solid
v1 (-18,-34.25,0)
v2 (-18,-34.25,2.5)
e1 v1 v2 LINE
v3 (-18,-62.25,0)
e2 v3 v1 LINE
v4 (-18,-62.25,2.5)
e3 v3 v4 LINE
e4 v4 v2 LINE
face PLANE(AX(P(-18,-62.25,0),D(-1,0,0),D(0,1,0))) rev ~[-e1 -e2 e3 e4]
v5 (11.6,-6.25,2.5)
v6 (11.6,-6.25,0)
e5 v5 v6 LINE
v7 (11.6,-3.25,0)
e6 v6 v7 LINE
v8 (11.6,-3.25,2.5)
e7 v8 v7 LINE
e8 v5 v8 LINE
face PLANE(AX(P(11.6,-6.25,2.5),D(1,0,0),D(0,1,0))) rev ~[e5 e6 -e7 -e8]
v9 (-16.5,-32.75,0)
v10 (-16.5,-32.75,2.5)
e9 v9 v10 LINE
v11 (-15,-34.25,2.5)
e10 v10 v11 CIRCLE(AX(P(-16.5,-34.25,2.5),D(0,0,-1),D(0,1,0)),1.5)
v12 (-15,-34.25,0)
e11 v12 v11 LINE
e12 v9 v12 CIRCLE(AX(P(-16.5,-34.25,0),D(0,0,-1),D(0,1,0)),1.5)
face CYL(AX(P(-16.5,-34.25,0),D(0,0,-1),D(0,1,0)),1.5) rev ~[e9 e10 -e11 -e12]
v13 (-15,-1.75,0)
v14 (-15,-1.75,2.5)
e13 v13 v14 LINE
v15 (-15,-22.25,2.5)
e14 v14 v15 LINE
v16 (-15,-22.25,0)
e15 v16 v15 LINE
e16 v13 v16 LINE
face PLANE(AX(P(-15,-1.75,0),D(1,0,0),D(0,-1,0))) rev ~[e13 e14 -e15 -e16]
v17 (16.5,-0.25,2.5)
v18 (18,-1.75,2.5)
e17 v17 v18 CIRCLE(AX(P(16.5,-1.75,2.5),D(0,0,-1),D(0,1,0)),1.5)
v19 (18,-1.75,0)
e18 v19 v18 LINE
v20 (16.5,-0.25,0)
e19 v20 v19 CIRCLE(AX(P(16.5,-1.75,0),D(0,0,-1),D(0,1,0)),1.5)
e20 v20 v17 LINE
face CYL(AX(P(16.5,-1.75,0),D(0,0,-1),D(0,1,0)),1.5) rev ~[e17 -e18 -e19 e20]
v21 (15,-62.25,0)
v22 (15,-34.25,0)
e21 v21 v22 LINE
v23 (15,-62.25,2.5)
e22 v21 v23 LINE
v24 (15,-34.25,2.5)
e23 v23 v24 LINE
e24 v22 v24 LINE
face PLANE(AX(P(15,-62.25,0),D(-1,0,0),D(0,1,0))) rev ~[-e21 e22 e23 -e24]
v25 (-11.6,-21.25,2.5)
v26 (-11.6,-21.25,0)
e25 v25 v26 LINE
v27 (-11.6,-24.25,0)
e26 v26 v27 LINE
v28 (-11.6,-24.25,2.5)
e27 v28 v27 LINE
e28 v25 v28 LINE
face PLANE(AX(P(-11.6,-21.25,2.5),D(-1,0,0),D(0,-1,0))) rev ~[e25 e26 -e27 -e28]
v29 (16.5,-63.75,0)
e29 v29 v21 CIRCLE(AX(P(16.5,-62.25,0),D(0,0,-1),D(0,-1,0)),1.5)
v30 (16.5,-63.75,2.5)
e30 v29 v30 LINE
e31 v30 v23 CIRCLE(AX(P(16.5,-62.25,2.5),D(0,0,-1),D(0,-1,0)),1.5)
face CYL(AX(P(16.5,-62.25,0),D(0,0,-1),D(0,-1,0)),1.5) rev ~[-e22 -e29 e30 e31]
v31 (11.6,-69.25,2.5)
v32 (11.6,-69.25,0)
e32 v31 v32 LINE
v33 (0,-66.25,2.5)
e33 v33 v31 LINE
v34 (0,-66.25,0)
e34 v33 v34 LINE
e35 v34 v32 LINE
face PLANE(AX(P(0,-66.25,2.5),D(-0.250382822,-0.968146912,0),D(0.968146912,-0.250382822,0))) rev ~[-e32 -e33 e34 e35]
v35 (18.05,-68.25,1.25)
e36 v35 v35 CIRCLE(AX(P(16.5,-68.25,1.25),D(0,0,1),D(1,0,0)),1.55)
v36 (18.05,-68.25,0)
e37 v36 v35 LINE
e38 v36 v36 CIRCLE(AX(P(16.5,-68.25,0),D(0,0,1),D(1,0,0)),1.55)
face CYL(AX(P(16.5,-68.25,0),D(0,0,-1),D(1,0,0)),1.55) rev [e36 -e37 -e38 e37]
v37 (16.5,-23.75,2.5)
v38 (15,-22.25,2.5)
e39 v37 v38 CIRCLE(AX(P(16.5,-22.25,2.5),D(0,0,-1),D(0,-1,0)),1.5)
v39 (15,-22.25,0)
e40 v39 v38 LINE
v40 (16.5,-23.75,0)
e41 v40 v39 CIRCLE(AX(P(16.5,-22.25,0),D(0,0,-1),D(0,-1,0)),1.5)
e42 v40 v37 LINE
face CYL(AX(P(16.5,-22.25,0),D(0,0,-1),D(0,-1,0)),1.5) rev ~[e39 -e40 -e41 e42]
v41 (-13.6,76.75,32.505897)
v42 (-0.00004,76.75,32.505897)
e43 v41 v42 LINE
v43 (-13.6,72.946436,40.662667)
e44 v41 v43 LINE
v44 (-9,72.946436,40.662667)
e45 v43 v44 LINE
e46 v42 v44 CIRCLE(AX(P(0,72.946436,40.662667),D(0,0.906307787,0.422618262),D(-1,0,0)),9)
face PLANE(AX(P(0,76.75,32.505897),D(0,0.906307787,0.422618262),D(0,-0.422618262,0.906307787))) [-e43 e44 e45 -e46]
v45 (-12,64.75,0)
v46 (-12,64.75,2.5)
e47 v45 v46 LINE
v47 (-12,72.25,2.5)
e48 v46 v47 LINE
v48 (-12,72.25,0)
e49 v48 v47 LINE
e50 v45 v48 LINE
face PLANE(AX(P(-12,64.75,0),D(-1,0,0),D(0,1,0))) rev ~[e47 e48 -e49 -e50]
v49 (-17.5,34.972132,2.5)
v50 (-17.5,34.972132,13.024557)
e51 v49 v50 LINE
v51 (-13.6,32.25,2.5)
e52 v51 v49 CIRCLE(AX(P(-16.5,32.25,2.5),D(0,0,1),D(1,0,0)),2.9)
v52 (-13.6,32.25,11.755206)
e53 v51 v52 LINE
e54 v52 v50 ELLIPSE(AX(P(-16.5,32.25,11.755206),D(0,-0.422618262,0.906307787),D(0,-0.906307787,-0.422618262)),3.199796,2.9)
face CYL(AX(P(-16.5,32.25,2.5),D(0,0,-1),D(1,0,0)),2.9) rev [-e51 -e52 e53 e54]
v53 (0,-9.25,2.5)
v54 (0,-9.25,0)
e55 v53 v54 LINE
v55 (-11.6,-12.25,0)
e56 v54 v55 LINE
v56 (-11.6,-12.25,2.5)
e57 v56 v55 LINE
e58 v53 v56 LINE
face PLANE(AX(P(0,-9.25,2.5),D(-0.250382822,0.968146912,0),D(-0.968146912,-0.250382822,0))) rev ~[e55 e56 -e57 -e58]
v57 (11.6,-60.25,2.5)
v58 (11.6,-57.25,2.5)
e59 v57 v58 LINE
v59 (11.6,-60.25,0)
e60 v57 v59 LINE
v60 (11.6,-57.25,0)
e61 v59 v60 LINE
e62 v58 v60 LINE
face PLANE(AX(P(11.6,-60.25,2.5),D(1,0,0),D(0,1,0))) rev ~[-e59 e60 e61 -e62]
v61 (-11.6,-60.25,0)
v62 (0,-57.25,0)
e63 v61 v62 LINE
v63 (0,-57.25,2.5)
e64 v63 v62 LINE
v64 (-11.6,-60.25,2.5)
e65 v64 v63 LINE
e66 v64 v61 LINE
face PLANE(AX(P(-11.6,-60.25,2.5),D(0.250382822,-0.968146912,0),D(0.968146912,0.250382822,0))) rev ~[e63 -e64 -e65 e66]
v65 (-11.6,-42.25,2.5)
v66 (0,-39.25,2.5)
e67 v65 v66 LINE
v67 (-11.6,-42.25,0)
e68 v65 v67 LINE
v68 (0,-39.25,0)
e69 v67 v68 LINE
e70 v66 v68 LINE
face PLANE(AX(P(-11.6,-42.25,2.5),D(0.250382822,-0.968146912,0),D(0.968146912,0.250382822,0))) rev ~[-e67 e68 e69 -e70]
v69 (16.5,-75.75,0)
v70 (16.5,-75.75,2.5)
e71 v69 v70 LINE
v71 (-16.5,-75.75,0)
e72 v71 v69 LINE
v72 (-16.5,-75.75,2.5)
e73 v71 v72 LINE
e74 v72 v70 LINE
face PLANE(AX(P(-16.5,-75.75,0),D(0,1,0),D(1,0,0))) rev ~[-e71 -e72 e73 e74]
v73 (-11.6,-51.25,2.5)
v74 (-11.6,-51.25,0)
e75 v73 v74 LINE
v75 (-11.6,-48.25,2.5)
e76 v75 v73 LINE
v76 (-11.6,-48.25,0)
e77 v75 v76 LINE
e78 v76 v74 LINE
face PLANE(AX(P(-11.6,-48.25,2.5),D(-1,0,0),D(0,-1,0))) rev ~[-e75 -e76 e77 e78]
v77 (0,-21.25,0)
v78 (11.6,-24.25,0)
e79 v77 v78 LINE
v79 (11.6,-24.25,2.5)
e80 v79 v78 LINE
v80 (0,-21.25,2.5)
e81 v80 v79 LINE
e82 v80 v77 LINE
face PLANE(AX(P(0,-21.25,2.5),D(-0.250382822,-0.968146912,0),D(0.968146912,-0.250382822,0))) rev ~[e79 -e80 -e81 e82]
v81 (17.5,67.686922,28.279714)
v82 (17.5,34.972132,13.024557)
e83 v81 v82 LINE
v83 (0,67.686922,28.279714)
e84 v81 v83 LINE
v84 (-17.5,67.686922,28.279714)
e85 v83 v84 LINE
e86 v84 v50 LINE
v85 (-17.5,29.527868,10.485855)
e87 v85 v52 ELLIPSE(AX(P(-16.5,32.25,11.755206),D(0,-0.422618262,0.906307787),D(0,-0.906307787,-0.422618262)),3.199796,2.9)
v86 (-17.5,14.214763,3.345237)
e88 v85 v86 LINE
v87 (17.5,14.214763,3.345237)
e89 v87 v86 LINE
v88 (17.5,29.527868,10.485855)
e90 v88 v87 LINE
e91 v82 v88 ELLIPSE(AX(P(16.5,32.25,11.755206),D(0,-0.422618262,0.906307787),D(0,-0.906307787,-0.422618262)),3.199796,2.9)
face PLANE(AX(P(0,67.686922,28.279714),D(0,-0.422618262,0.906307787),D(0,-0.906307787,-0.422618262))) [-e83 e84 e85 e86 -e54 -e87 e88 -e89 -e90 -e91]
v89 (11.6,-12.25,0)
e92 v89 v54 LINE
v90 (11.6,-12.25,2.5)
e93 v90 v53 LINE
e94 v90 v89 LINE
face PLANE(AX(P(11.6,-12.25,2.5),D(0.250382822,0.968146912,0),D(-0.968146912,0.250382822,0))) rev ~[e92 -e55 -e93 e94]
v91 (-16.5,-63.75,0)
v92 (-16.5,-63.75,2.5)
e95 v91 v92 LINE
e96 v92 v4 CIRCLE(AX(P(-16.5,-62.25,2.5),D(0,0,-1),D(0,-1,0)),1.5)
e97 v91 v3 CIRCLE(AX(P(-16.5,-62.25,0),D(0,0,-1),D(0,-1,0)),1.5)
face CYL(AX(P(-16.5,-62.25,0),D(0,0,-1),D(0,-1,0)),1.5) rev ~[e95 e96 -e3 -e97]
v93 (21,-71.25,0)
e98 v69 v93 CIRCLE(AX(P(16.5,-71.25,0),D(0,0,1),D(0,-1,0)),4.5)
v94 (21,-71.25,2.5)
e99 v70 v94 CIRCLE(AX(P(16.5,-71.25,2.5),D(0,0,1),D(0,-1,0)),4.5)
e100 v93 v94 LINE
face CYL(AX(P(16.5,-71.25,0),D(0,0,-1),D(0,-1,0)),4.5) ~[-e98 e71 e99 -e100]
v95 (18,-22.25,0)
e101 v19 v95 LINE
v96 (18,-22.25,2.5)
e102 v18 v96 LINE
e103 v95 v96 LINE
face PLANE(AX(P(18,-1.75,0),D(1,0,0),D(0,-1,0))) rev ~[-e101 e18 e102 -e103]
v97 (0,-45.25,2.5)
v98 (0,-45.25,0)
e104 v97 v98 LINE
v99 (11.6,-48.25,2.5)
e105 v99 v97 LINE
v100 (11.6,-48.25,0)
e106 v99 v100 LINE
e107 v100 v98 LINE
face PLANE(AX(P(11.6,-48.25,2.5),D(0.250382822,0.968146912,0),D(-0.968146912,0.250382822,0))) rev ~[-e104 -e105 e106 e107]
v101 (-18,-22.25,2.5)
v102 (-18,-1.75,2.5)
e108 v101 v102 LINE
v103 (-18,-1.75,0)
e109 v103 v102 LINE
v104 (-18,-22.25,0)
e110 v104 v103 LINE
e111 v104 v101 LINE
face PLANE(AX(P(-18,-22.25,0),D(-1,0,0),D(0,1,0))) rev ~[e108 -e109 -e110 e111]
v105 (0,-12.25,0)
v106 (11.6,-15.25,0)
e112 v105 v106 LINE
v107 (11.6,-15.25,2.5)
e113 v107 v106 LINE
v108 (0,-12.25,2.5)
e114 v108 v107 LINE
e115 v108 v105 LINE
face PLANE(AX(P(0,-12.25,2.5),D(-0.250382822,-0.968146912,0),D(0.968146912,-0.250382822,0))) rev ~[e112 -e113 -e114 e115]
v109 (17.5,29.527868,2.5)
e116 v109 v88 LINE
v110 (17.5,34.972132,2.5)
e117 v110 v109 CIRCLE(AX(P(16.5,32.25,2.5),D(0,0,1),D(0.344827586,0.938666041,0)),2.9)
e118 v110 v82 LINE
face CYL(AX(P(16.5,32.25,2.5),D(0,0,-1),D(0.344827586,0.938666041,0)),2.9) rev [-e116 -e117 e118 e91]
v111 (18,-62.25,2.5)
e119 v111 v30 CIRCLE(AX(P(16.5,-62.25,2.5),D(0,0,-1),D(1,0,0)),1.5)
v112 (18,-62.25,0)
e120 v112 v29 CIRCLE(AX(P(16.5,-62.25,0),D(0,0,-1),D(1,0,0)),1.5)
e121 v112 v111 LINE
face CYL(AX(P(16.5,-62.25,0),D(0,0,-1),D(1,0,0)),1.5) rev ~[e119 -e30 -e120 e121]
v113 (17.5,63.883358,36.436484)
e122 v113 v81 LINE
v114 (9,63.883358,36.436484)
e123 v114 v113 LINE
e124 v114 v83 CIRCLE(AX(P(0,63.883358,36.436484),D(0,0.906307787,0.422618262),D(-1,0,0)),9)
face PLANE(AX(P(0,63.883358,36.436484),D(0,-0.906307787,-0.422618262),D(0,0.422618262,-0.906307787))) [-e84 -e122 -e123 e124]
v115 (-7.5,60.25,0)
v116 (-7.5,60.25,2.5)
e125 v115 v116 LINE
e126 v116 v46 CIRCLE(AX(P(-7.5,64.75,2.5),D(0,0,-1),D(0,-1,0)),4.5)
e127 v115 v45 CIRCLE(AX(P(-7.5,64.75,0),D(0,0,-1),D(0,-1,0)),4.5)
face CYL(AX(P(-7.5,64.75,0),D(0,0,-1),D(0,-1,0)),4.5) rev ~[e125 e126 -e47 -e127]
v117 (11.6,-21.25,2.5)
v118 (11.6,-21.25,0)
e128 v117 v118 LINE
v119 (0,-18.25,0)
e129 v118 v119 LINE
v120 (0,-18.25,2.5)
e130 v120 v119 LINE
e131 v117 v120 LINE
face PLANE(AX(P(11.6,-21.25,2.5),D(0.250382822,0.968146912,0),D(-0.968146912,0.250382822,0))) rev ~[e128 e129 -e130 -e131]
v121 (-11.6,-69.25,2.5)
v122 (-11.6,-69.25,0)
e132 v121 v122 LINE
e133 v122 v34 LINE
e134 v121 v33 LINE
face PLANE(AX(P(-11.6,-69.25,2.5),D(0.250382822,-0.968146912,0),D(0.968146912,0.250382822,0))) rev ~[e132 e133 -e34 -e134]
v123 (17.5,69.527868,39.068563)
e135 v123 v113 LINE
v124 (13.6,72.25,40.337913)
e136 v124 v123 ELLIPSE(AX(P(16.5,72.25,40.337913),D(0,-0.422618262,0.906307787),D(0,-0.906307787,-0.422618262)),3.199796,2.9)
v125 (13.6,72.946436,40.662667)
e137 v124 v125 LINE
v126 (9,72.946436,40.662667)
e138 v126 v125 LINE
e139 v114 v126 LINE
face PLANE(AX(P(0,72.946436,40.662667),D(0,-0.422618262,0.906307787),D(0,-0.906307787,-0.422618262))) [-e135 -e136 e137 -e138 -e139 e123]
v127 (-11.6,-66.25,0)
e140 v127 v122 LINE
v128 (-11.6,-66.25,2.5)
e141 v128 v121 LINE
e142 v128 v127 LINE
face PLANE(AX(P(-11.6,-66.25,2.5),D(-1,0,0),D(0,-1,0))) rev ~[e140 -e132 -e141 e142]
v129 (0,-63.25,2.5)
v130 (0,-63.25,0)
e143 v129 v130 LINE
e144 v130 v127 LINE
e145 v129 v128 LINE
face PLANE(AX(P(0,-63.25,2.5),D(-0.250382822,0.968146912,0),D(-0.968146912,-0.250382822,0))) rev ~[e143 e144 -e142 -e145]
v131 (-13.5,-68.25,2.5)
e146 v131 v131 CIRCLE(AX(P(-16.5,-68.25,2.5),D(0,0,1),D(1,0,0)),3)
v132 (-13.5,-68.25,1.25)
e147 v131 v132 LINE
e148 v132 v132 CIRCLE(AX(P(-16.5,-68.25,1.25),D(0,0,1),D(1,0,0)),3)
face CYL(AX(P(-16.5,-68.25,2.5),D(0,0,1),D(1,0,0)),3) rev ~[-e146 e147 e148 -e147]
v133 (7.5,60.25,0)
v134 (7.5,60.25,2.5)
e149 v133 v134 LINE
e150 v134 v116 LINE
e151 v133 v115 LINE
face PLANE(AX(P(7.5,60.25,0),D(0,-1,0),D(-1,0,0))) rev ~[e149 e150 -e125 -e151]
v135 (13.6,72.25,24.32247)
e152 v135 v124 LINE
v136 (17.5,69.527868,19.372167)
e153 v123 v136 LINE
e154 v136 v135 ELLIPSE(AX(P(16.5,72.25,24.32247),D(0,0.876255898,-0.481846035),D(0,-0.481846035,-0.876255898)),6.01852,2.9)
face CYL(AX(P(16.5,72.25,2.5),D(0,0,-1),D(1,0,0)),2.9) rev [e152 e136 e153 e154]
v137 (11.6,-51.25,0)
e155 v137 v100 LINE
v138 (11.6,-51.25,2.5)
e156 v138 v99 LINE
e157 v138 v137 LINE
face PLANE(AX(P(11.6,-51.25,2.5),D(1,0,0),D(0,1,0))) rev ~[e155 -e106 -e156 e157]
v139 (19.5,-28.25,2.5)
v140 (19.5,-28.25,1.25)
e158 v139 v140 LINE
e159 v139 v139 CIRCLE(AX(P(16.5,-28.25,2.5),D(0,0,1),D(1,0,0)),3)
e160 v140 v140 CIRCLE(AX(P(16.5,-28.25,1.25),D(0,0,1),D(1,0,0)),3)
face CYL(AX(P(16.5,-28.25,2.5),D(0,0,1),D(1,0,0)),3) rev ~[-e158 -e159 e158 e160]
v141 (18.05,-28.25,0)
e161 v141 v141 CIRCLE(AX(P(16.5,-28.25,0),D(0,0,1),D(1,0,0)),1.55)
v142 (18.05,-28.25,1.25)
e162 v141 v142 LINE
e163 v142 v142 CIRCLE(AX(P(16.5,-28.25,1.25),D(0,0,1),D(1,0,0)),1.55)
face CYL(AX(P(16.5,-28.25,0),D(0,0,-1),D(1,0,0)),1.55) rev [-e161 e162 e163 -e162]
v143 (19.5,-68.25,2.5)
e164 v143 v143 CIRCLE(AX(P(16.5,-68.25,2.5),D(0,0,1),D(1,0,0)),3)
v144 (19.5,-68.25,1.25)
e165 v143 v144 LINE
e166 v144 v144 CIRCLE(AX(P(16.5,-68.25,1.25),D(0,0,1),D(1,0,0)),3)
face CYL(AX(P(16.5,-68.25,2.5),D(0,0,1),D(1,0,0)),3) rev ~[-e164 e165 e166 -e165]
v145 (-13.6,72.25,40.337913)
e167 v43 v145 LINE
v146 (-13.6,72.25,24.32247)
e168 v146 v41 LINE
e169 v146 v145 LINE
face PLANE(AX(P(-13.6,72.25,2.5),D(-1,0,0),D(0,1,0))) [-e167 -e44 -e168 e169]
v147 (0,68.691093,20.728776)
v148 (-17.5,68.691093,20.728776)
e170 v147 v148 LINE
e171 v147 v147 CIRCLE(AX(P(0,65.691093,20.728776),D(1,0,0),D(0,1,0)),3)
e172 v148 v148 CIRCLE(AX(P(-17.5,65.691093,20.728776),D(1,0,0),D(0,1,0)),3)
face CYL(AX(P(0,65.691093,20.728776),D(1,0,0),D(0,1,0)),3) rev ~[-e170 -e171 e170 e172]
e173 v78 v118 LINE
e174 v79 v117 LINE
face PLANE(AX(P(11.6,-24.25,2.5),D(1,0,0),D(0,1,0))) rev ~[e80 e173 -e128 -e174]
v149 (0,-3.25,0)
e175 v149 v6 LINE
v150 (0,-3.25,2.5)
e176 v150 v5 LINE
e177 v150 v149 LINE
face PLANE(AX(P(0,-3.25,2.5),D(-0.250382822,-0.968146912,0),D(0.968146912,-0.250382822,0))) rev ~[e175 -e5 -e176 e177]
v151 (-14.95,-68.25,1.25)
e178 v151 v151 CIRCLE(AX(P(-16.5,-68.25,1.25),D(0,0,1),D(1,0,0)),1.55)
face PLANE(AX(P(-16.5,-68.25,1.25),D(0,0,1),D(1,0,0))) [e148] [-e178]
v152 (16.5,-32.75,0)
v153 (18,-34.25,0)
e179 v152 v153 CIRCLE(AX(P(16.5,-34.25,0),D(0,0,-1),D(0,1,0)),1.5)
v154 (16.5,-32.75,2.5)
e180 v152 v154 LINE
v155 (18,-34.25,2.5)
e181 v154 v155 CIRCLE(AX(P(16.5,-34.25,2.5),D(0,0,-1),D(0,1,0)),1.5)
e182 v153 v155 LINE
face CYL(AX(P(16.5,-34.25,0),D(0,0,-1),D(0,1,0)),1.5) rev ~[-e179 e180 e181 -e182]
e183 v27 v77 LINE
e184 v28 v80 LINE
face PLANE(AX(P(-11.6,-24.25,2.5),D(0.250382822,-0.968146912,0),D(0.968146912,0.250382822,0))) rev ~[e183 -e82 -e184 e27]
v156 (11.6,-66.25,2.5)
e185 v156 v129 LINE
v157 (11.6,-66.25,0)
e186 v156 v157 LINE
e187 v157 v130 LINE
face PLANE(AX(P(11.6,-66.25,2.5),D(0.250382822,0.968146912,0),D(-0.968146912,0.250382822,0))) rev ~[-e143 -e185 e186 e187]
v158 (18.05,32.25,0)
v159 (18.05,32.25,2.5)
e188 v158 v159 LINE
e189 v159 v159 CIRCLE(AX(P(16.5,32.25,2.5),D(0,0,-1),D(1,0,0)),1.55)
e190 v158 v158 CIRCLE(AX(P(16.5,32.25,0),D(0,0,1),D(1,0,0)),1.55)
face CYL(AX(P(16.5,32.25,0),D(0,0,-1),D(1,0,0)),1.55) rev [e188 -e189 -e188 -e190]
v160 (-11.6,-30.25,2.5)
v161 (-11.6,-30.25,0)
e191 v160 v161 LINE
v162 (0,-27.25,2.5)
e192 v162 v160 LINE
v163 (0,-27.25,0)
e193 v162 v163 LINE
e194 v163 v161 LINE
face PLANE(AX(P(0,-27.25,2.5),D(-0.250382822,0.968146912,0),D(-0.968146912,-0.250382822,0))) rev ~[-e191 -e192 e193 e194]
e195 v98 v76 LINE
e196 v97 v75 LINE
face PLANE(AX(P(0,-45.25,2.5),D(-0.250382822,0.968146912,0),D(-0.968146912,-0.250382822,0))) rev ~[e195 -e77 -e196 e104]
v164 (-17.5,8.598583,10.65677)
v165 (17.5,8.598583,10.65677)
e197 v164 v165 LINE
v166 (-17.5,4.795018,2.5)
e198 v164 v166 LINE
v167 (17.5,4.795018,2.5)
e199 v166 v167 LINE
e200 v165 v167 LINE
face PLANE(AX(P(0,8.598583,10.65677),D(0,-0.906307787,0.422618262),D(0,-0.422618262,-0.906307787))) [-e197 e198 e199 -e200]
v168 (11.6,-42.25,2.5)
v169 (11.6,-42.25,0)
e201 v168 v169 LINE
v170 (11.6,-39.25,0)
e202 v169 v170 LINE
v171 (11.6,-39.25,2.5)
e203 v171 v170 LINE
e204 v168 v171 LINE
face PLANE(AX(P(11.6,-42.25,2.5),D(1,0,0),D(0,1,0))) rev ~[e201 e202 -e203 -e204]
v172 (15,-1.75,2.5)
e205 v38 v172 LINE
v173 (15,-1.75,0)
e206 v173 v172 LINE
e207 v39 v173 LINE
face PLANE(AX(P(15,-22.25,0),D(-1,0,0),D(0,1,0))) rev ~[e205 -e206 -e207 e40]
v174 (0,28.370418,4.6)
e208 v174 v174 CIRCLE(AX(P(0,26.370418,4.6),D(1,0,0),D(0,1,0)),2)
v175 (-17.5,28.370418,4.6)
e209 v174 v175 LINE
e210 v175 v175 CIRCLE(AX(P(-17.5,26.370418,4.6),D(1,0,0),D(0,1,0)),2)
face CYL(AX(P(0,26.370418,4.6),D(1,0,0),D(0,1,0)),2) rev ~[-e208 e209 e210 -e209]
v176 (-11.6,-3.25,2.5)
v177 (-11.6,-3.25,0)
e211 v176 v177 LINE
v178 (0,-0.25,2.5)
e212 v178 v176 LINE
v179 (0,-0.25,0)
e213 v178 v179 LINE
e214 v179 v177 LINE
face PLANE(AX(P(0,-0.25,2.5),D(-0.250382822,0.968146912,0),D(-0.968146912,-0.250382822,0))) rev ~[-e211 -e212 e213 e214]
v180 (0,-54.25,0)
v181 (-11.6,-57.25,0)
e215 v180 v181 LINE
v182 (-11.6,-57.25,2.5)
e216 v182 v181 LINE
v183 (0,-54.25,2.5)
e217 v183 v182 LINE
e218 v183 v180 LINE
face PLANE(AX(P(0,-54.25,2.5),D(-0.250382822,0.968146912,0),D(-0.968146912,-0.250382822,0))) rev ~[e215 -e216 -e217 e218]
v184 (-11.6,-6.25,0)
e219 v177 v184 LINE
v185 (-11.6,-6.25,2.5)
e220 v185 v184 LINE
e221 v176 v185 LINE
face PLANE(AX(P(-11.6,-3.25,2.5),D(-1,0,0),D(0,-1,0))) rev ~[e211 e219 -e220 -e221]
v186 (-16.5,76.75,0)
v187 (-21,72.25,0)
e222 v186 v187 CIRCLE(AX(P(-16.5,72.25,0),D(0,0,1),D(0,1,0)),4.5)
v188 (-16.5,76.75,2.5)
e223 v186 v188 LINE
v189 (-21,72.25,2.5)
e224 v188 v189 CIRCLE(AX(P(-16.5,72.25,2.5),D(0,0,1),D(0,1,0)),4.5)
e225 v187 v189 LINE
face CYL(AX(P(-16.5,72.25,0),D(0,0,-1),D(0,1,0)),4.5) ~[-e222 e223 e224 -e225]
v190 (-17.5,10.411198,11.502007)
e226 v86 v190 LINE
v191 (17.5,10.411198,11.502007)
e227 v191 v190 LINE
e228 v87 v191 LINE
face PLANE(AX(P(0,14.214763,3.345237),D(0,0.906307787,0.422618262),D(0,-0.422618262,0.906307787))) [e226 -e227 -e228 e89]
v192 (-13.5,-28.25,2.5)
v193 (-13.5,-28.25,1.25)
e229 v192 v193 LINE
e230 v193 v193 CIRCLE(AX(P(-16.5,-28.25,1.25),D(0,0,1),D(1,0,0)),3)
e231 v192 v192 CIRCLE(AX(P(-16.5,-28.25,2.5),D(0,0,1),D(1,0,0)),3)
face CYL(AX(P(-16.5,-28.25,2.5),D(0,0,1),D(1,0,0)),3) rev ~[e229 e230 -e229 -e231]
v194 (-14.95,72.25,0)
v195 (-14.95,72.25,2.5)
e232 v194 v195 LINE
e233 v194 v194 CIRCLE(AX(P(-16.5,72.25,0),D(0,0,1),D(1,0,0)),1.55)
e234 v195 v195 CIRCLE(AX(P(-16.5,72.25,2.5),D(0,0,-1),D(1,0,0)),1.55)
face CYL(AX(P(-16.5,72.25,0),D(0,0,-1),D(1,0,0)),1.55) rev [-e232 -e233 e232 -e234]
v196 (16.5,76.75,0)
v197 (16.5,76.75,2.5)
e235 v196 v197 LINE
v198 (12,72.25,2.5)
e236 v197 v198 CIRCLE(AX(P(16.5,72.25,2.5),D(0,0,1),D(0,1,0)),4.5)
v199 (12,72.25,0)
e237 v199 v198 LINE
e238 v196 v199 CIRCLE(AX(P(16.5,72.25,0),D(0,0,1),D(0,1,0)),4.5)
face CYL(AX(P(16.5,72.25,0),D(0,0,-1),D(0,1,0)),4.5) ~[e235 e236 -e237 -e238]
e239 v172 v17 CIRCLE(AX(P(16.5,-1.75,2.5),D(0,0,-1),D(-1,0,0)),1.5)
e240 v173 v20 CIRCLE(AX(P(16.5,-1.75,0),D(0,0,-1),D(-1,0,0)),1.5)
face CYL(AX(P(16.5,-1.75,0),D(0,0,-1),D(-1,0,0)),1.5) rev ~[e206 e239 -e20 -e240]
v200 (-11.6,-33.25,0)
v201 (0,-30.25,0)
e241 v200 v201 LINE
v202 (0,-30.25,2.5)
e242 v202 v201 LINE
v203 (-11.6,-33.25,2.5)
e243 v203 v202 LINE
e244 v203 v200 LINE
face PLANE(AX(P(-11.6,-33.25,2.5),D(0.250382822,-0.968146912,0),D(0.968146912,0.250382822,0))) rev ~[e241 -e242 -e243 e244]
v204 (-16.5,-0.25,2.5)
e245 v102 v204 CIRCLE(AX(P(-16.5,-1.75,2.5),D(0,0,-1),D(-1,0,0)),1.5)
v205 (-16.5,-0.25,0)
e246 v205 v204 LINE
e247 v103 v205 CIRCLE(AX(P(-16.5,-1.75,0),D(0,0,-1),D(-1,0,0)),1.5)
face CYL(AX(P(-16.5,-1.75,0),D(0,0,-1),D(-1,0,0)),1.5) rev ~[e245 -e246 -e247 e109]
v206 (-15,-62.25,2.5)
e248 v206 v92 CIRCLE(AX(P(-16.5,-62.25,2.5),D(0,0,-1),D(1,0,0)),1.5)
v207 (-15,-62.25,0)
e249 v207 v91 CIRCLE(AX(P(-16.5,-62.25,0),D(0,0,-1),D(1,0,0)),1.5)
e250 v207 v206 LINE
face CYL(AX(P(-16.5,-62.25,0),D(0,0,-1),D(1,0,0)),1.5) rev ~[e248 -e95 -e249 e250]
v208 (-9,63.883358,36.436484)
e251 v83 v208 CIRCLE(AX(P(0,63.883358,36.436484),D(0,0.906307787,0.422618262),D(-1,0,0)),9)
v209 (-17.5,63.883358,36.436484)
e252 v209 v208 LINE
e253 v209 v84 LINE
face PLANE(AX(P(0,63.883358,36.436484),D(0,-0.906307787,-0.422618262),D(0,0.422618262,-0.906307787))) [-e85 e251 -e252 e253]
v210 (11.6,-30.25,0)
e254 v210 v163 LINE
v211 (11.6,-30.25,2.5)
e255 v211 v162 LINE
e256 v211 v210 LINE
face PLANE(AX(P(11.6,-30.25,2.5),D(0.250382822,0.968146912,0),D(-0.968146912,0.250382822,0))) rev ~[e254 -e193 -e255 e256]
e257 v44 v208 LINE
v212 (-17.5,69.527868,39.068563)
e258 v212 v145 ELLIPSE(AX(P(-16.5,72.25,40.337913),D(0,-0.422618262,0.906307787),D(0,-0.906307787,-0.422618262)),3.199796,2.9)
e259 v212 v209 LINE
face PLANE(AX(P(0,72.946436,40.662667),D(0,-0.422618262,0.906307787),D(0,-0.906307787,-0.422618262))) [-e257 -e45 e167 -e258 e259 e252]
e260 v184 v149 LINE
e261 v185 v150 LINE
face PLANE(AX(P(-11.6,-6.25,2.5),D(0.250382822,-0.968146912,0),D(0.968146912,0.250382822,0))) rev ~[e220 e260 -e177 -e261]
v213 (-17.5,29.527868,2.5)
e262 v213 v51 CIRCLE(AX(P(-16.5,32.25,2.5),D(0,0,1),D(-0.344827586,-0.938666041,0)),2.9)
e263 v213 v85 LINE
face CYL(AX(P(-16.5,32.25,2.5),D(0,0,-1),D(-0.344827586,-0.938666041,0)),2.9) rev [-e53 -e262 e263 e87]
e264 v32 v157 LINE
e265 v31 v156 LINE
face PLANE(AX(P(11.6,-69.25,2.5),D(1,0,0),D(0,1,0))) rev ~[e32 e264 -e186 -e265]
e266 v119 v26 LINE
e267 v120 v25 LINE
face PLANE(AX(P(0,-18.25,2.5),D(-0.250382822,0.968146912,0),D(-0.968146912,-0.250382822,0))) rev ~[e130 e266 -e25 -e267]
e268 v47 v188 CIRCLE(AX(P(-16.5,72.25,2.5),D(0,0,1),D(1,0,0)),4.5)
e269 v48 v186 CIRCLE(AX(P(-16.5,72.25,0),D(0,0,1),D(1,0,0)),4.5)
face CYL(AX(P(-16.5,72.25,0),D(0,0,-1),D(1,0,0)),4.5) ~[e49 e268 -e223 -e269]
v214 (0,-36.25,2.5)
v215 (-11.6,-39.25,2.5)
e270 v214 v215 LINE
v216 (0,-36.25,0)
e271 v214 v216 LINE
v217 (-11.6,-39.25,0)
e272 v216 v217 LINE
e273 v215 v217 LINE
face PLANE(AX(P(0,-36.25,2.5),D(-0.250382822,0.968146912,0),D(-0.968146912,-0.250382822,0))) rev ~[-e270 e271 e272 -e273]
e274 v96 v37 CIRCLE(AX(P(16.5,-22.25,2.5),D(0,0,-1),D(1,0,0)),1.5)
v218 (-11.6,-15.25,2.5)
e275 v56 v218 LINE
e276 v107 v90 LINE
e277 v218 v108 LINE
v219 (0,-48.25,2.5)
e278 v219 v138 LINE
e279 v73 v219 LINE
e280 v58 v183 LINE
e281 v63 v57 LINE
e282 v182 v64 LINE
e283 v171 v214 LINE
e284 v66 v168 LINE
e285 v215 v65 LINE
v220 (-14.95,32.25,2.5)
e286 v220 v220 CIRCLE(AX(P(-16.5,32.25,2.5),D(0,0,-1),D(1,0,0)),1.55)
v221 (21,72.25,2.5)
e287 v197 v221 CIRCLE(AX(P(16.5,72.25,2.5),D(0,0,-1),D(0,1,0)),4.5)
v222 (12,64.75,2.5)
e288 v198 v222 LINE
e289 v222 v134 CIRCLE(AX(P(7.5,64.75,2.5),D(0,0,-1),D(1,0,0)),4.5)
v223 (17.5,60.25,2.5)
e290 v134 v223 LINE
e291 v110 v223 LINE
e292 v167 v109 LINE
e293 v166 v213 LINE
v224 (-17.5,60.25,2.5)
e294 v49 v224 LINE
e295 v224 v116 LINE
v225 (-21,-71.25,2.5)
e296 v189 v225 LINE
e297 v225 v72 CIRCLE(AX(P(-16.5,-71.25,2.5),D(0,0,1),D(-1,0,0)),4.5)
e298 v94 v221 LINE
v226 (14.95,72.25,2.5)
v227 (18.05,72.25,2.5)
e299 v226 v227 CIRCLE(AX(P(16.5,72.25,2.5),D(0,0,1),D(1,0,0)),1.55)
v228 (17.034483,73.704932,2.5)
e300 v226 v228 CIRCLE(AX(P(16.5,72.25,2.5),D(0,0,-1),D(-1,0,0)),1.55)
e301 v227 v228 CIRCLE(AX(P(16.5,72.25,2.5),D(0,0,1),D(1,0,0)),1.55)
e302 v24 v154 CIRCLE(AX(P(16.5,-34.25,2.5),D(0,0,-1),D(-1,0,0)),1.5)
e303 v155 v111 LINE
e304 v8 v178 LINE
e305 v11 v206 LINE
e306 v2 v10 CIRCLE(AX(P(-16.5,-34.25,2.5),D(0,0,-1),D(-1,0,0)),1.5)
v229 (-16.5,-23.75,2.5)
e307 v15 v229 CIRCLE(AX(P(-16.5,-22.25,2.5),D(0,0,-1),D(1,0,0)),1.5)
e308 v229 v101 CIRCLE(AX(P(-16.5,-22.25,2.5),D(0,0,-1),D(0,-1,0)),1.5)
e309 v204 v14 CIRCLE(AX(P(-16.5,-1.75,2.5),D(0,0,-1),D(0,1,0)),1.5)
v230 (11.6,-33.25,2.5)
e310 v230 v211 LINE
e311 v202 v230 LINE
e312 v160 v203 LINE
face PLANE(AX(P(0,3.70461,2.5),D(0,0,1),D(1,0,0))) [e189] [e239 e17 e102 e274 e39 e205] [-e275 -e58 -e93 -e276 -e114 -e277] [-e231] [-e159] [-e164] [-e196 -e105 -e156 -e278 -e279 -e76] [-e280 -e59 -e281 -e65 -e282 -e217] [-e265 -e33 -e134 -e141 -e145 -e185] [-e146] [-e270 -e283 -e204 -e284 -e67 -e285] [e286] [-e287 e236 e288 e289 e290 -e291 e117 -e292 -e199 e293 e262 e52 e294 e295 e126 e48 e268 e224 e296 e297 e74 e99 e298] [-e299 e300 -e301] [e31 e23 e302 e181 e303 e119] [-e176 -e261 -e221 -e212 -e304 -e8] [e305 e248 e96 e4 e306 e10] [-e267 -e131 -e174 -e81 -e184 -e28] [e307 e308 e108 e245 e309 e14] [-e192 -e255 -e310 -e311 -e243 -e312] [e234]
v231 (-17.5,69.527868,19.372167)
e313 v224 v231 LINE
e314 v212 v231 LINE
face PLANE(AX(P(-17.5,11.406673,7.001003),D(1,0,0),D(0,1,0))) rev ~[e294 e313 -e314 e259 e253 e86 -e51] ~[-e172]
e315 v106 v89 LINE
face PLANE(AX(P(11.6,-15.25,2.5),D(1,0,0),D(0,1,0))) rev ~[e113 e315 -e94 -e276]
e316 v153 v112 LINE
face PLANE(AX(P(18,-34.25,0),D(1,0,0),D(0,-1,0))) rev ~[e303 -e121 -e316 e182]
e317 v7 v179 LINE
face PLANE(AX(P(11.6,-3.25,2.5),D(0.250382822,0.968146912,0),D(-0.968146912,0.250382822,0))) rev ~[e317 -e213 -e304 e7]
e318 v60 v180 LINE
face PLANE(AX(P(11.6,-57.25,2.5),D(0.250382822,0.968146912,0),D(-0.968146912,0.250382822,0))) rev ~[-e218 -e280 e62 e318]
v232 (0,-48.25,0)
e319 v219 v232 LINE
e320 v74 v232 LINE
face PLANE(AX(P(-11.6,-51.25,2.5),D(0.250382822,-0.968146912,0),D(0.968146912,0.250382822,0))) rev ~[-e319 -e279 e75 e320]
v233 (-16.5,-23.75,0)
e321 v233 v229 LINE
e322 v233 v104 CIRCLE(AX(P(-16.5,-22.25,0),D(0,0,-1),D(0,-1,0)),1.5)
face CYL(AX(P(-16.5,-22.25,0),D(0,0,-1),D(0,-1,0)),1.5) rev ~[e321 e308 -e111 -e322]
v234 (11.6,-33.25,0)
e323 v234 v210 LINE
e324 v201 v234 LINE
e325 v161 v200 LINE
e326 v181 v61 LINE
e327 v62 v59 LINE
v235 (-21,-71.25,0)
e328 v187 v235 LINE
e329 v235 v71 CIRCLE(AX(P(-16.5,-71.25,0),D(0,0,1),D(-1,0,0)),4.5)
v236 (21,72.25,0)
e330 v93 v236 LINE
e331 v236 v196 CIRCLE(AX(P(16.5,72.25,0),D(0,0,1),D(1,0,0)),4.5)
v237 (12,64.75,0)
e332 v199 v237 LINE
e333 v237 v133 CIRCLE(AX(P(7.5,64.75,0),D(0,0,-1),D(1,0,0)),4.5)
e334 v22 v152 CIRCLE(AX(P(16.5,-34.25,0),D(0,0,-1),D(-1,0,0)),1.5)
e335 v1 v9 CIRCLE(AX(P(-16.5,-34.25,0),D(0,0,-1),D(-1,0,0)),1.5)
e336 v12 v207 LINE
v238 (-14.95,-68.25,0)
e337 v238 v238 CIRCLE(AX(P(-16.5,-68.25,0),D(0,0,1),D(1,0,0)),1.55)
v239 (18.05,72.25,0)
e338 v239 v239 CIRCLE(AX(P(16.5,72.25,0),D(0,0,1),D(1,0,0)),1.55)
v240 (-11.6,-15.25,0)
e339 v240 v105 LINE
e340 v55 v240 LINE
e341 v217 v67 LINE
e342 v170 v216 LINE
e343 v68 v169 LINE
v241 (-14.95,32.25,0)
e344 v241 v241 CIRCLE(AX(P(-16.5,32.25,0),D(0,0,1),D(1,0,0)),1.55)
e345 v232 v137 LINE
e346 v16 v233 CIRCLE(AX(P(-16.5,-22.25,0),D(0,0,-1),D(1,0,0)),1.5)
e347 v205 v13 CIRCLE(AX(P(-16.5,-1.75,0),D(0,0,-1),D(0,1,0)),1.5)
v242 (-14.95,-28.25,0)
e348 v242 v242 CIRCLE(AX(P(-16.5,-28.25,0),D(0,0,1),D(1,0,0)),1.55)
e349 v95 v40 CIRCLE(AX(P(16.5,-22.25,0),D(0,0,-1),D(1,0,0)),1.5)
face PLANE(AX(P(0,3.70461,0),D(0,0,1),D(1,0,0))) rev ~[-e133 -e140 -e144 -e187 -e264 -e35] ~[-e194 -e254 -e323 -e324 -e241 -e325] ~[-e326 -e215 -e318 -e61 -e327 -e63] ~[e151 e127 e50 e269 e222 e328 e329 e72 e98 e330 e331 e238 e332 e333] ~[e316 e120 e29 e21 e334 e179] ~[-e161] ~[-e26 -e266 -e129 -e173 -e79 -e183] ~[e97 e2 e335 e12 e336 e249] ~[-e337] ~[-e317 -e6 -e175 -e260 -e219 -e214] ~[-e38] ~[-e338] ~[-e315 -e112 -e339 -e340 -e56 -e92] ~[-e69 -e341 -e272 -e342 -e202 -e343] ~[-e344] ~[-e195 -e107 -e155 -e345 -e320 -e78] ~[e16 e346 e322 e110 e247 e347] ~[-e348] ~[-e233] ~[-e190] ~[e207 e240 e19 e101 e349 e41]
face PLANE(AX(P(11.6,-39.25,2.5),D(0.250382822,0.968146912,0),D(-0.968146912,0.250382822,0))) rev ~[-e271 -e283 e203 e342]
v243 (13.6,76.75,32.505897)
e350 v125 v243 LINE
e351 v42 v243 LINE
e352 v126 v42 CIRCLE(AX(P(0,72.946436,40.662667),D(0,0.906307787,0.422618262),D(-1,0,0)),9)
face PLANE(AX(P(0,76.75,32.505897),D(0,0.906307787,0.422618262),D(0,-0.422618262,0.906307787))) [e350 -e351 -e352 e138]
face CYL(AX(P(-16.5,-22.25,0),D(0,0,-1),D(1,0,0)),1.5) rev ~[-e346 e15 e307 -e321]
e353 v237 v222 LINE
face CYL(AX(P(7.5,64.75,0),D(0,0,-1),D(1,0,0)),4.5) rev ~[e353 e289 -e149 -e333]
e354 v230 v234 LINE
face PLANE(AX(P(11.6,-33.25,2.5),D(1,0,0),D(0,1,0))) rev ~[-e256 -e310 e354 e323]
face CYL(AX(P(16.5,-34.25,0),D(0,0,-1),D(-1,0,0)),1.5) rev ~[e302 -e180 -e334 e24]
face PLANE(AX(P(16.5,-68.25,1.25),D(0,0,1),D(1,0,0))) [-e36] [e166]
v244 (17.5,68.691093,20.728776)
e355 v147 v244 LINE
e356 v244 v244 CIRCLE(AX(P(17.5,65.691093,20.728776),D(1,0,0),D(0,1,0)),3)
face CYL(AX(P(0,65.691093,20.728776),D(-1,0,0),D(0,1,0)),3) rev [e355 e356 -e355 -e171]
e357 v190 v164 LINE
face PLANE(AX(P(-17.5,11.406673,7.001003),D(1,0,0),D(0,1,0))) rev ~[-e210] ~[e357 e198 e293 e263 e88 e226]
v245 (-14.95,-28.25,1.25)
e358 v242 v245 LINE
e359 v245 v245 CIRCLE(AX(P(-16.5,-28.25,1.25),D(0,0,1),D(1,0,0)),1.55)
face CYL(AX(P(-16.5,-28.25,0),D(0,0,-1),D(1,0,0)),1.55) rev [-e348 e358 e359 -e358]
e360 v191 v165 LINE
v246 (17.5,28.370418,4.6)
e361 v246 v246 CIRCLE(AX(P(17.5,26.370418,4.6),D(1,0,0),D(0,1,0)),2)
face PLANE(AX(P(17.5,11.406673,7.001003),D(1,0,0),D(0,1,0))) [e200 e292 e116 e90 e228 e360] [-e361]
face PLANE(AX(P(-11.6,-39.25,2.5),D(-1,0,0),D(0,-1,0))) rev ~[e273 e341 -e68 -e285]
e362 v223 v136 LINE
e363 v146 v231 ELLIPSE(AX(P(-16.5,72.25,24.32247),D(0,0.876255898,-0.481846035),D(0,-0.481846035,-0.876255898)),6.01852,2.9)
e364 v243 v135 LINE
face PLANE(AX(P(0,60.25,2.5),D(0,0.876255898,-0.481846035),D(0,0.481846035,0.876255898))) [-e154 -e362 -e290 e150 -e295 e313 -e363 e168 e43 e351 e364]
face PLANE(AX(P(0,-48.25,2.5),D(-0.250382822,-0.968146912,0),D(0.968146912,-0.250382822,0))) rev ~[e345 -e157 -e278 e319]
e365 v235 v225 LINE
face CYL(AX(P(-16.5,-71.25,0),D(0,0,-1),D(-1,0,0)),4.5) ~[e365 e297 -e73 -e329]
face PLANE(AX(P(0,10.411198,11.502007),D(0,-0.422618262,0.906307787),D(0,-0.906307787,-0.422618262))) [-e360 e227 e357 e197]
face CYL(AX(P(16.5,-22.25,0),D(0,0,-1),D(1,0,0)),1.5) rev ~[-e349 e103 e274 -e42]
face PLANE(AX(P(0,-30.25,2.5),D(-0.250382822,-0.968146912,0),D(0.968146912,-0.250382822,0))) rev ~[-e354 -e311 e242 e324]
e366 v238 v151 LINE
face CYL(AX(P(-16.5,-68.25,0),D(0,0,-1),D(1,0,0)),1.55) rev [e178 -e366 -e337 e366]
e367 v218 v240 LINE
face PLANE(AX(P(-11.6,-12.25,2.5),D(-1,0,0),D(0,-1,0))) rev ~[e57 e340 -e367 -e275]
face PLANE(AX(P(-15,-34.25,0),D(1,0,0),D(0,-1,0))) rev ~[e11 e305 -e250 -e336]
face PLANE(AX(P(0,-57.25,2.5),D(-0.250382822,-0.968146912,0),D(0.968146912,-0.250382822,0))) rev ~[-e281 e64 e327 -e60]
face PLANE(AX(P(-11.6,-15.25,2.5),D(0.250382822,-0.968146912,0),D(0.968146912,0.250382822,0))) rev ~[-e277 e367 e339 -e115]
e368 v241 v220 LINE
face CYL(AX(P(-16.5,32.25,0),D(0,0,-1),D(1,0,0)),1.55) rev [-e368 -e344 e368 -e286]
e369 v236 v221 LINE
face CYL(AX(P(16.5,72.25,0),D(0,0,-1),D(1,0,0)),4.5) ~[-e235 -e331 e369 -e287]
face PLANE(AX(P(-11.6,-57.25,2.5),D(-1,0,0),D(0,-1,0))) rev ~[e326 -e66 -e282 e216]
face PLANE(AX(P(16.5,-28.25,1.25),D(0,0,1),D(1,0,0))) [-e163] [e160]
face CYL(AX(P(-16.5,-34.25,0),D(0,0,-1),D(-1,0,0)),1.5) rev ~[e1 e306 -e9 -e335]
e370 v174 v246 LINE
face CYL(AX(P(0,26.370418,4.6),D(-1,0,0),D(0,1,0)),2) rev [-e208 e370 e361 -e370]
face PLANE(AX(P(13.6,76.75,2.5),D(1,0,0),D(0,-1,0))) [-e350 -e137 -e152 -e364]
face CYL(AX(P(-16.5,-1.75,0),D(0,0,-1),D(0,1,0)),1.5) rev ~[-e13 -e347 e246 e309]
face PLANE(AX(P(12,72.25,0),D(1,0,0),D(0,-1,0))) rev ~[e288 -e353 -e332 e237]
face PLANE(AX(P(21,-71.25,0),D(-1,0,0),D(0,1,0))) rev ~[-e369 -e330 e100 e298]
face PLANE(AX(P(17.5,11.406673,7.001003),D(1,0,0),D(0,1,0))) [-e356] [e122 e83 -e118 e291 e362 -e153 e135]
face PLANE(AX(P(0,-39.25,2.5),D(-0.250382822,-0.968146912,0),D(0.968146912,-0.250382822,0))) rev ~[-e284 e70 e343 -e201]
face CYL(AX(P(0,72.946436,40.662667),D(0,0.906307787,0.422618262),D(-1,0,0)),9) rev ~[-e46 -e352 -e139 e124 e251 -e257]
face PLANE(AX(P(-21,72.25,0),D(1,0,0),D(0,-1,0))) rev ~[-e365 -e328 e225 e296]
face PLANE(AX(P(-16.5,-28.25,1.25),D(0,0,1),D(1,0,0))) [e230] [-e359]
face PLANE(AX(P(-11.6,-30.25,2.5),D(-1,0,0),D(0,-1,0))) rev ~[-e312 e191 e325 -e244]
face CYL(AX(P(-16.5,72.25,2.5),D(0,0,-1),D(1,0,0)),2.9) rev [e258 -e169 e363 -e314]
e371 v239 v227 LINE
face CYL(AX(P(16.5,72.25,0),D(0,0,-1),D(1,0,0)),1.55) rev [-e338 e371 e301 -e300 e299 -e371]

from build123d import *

# Parameters (mm, degrees)
F1_R          = 2
F1_R_2        = 3
F2_DEPTH      = 17.5
F2_DEPTH_BACK = 17.5
F3_R          = 9
F4_DEPTH      = 25
F0_R          = 1.55
F5_DEPTH      = 2.5
F6_R          = 3
F6_R_2        = 1.55
F6_R_3        = 2.9
F7_DEPTH      = 50
F9_DEPTH      = 25
F11_DEPTH     = 50
F12_DEPTH     = 1.25


with BuildPart() as f2:
    # F1 (on Right) → F2 (new body, two sides)
    with BuildSketch(Plane.YZ) as f2_sk:
        Polygon((8.5985827647, 10.6567700833), (12.4021471204, 2.5), (14.2147626945, 3.3452365235), (10.4111983388, 11.5020066068), align=None)
        Polygon((63.883357774, 36.4364840495), (67.6869221296, 28.2797139662), (76.75, 32.5058965836), (72.9464356443, 40.6626666669), align=None)
        Polygon((14.2147626945, 3.3452365235), (12.4021471204, 2.5), (60.25, 2.5), (76.75, 32.5058965836), (67.6869221296, 28.2797139662), align=None)
        with Locations((26.3704179861, 4.6)):
            Circle(F1_R, mode=Mode.SUBTRACT)
        with Locations((65.6910927649, 20.7287759353)):
            Circle(F1_R_2, mode=Mode.SUBTRACT)
        Polygon((8.5985827647, 2.5), (12.4021471204, 2.5), (8.5985827647, 10.6567700833), align=None)
        Polygon((8.5985827647, 2.5), (8.5985827647, 10.6567700833), (4.7950184091, 2.5), align=None)
    extrude(amount=F2_DEPTH)
    extrude(f2_sk.sketch, amount=-F2_DEPTH_BACK)

    # F3 (on face) → F4 (cut)
    with BuildSketch(Plane(origin=(0, 75.492455245, 35.2027100136), x_dir=(-1, 0, 0), z_dir=(0, 0.906307787, 0.4226182617))):
        with Locations((0, 6.0243956097)):
            Circle(F3_R)
    extrude(amount=-F4_DEPTH, mode=Mode.SUBTRACT)

    # F0 (on Top) → F5 (join)
    with BuildSketch(Plane.XY):
        with BuildLine():
            Line((21, -71.25), (21, 72.25))
            ThreePointArc((21, 72.25), (19.6819805153, 75.4319805153), (16.5, 76.75))
            ThreePointArc((16.5, 76.75), (13.3180194847, 75.4319805153), (12, 72.25))
            Line((12, 72.25), (12, 64.75))
            ThreePointArc((12, 64.75), (10.6819805153, 61.5680194847), (7.5, 60.25))
            Line((7.5, 60.25), (-7.5, 60.25))
            ThreePointArc((-7.5, 60.25), (-10.6819805153, 61.5680194847), (-12, 64.75))
            Line((-12, 64.75), (-12, 72.25))
            ThreePointArc((-12, 72.25), (-13.3180194847, 75.4319805153), (-16.5, 76.75))
            ThreePointArc((-16.5, 76.75), (-19.6819805153, 75.4319805153), (-21, 72.25))
            Line((-21, 72.25), (-21, -71.25))
            ThreePointArc((-21, -71.25), (-19.6819805153, -74.4319805153), (-16.5, -75.75))
            Line((-16.5, -75.75), (16.5, -75.75))
            ThreePointArc((16.5, -75.75), (19.6819805153, -74.4319805153), (21, -71.25))
        make_face()
        with Locations((-16.5, -68.25)):
            Circle(F0_R, mode=Mode.SUBTRACT)
        with BuildLine():
            ThreePointArc((-16.5, -32.75), (-15.4393398282, -33.1893398282), (-15, -34.25))
            Line((-15, -34.25), (-15, -62.25))
            ThreePointArc((-15, -62.25), (-15.4393398282, -63.3106601718), (-16.5, -63.75))
            ThreePointArc((-16.5, -63.75), (-17.5606601718, -63.3106601718), (-18, -62.25))
            Line((-18, -62.25), (-18, -34.25))
            ThreePointArc((-18, -34.25), (-17.5606601718, -33.1893398282), (-16.5, -32.75))
        make_face(mode=Mode.SUBTRACT)
        with Locations((-16.5, -28.25)):
            Circle(F0_R, mode=Mode.SUBTRACT)
        with BuildLine():
            ThreePointArc((-16.5, -0.25), (-15.4393398282, -0.6893398282), (-15, -1.75))
            Line((-15, -1.75), (-15, -22.25))
            ThreePointArc((-15, -22.25), (-15.4393398282, -23.3106601718), (-16.5, -23.75))
            ThreePointArc((-16.5, -23.75), (-17.5606601718, -23.3106601718), (-18, -22.25))
            Line((-18, -22.25), (-18, -1.75))
            ThreePointArc((-18, -1.75), (-17.5606601718, -0.6893398282), (-16.5, -0.25))
        make_face(mode=Mode.SUBTRACT)
        with Locations((16.5, -68.25)):
            Circle(F0_R, mode=Mode.SUBTRACT)
        with BuildLine():
            Line((15, -62.25), (15, -34.25))
            ThreePointArc((15, -34.25), (15.4393398282, -33.1893398282), (16.5, -32.75))
            ThreePointArc((16.5, -32.75), (17.5606601718, -33.1893398282), (18, -34.25))
            Line((18, -34.25), (18, -62.25))
            ThreePointArc((18, -62.25), (17.5606601718, -63.3106601718), (16.5, -63.75))
            ThreePointArc((16.5, -63.75), (15.4393398282, -63.3106601718), (15, -62.25))
        make_face(mode=Mode.SUBTRACT)
        with Locations((16.5, -28.25)):
            Circle(F0_R, mode=Mode.SUBTRACT)
        with BuildLine():
            Line((15, -22.25), (15, -1.75))
            ThreePointArc((15, -1.75), (15.4393398282, -0.6893398282), (16.5, -0.25))
            ThreePointArc((16.5, -0.25), (17.5606601718, -0.6893398282), (18, -1.75))
            Line((18, -1.75), (18, -22.25))
            ThreePointArc((18, -22.25), (17.5606601718, -23.3106601718), (16.5, -23.75))
            ThreePointArc((16.5, -23.75), (15.4393398282, -23.3106601718), (15, -22.25))
        make_face(mode=Mode.SUBTRACT)
        with Locations((-16.5, 32.25)):
            Circle(F0_R, mode=Mode.SUBTRACT)
        with Locations((-16.5, 72.25)):
            Circle(F0_R, mode=Mode.SUBTRACT)
        with Locations((16.5, 32.25)):
            Circle(F0_R, mode=Mode.SUBTRACT)
        with Locations((16.5, 72.25)):
            Circle(F0_R, mode=Mode.SUBTRACT)
    extrude(amount=F5_DEPTH)

    # F6 (on face) → F7 (cut)
    with BuildSketch(Plane.XY.offset(2.5)):
        with Locations((-16.5, -28.25)):
            Circle(F6_R)
        with Locations((-16.5, -28.25)):
            Circle(F6_R_2, mode=Mode.SUBTRACT)
        with Locations((16.5, -28.25)):
            Circle(F6_R)
        with Locations((16.5, -28.25)):
            Circle(F6_R_2, mode=Mode.SUBTRACT)
        with Locations((-16.5, -68.25)):
            Circle(F6_R)
        with Locations((-16.5, -68.25)):
            Circle(F6_R_2, mode=Mode.SUBTRACT)
        with Locations((16.5, -68.25)):
            Circle(F6_R)
        with Locations((16.5, -68.25)):
            Circle(F6_R_2, mode=Mode.SUBTRACT)
        with Locations((16.5, 72.25)):
            Circle(F6_R_3)
        with Locations((16.5, 72.25)):
            Circle(F6_R_2, mode=Mode.SUBTRACT)
        with Locations((-16.5, 72.25)):
            Circle(F6_R_3)
        with Locations((-16.5, 72.25)):
            Circle(F6_R_2, mode=Mode.SUBTRACT)
        with BuildLine():
            ThreePointArc((-17.5, 29.5278684822), (-14.8401807327, 29.8719756099), (-13.6, 32.25))
            ThreePointArc((-13.6, 32.25), (-14.8401807327, 34.6280243901), (-17.5, 34.9721315178))
            Line((-17.5, 34.9721315178), (-17.5, 33.4342719282))
            ThreePointArc((-17.5, 33.4342719282), (-18.05, 32.25), (-17.5, 31.0657280718))
            Line((-17.5, 31.0657280718), (-17.5, 29.5278684822))
        make_face()
        with BuildLine():
            ThreePointArc((17.5, 34.9721315178), (13.6, 32.25), (17.5, 29.5278684822))
            Line((17.5, 29.5278684822), (17.5, 31.0657280718))
            ThreePointArc((17.5, 31.0657280718), (17.905791592, 31.5971217571), (18.05, 32.25))
            ThreePointArc((18.05, 32.25), (17.905791592, 32.9028782429), (17.5, 33.4342719282))
            Line((17.5, 33.4342719282), (17.5, 34.9721315178))
        make_face()
        with Locations((16.5, -28.25)):
            Circle(F6_R_2)
        with Locations((-16.5, -28.25)):
            Circle(F6_R_2)
        with Locations((-16.5, -68.25)):
            Circle(F6_R_2)
        with Locations((16.5, -68.25)):
            Circle(F6_R_2)
        with Locations((16.5, 72.25)):
            Circle(F6_R_2)
        with Locations((-16.5, 72.25)):
            Circle(F6_R_2)
        with BuildLine():
            Line((-17.5, 33.4342719282), (-17.5, 34.9721315178))
            ThreePointArc((-17.5, 34.9721315178), (-19.4, 32.25), (-17.5, 29.5278684822))
            Line((-17.5, 29.5278684822), (-17.5, 31.0657280718))
            ThreePointArc((-17.5, 31.0657280718), (-18.05, 32.25), (-17.5, 33.4342719282))
        make_face()
        with BuildLine():
            Line((17.5, 31.0657280718), (17.5, 29.5278684822))
            ThreePointArc((17.5, 29.5278684822), (18.8780243901, 30.5901807327), (19.4, 32.25))
            ThreePointArc((19.4, 32.25), (18.8780243901, 33.9098192673), (17.5, 34.9721315178))
            Line((17.5, 34.9721315178), (17.5, 33.4342719282))
            ThreePointArc((17.5, 33.4342719282), (17.905791592, 32.9028782429), (18.05, 32.25))
            ThreePointArc((18.05, 32.25), (17.905791592, 31.5971217571), (17.5, 31.0657280718))
        make_face()
    extrude(amount=F7_DEPTH, mode=Mode.SUBTRACT)

    # F8 (on face) → F9 (cut)
    with BuildSketch(Plane.XY.offset(2.5)):
        Polygon((11.6, -3.25), (0, -0.25), (-11.6, -3.25), (-11.6, -6.25), (0, -3.25), (11.6, -6.25), align=None)
        Polygon((0, -9.25), (-11.6, -12.25), (-11.6, -15.25), (0, -12.25), (11.6, -15.25), (11.6, -12.25), align=None)
        Polygon((0, -18.25), (-11.6, -21.25), (-11.6, -24.25), (0, -21.25), (11.6, -24.25), (11.6, -21.25), align=None)
        Polygon((0, -27.25), (-11.6, -30.25), (-11.6, -33.25), (0, -30.25), (11.6, -33.25), (11.6, -30.25), align=None)
        Polygon((0, -36.25), (-11.6, -39.25), (-11.6, -42.25), (0, -39.25), (11.6, -42.25), (11.6, -39.25), align=None)
        Polygon((0, -45.25), (-11.6, -48.25), (-11.6, -51.25), (0, -48.25), (11.6, -51.25), (11.6, -48.25), align=None)
        Polygon((0, -54.25), (-11.6, -57.25), (-11.6, -60.25), (0, -57.25), (11.6, -60.25), (11.6, -57.25), align=None)
        Polygon((0, -63.25), (-11.6, -66.25), (-11.6, -69.25), (0, -66.25), (11.6, -69.25), (11.6, -66.25), align=None)
    extrude(amount=-F9_DEPTH, mode=Mode.SUBTRACT)

    # F10 (on face) → F11 (cut)
    with BuildSketch(Plane.XY.offset(2.5)):
        with BuildLine():
            ThreePointArc((14.95, 72.25), (15.6128552192, 73.5210130361), (17.0344827586, 73.7049323629))
            Line((17.0344827586, 73.7049323629), (17.5, 74.9721315178))
            Line((17.5, 74.9721315178), (17.5, 76.6374821937))
            ThreePointArc((17.5, 76.6374821937), (17.0031551095, 76.7217820761), (16.5, 76.75))
            ThreePointArc((16.5, 76.75), (14.9563331772, 76.4769483958), (13.6, 75.6909301068))
            Line((13.6, 75.6909301068), (13.6, 72.25))
            Line((13.6, 72.25), (14.95, 72.25))
        make_face()
        with BuildLine():
            Line((13.6, 76.75), (13.6, 75.6909301068))
            ThreePointArc((13.6, 75.6909301068), (14.9563331772, 76.4769483958), (16.5, 76.75))
            Line((16.5, 76.75), (13.6, 76.75))
        make_face()
        with BuildLine():
            Line((-13.6, 76.75), (-16.5, 76.75))
            ThreePointArc((-16.5, 76.75), (-14.9563331772, 76.4769483958), (-13.6, 75.6909301068))
            Line((-13.6, 75.6909301068), (-13.6, 76.75))
        make_face()
        with BuildLine():
            ThreePointArc((-16.5, 76.75), (-17.0031551095, 76.7217820761), (-17.5, 76.6374821937))
            Line((-17.5, 76.6374821937), (-17.5, 74.9721315178))
            Line((-17.5, 74.9721315178), (-17.0344827586, 73.7049323629))
            ThreePointArc((-17.0344827586, 73.7049323629), (-15.6128552192, 73.5210130361), (-14.95, 72.25))
            Line((-14.95, 72.25), (-13.6, 72.25))
            Line((-13.6, 72.25), (-13.6, 75.6909301068))
            ThreePointArc((-13.6, 75.6909301068), (-14.9563331772, 76.4769483958), (-16.5, 76.75))
        make_face()
        with BuildLine():
            Line((-17.5, 76.75), (-17.5, 76.6374821937))
            ThreePointArc((-17.5, 76.6374821937), (-17.0031551095, 76.7217820761), (-16.5, 76.75))
            Line((-16.5, 76.75), (-17.5, 76.75))
        make_face()
        with BuildLine():
            ThreePointArc((16.5, 76.75), (17.0031551095, 76.7217820761), (17.5, 76.6374821937))
            Line((17.5, 76.6374821937), (17.5, 76.75))
            Line((17.5, 76.75), (16.5, 76.75))
        make_face()
    extrude(amount=F11_DEPTH, mode=Mode.SUBTRACT)

    # F6 (on face) → F12 (cut)
    with BuildSketch(Plane.XY.offset(2.5)):
        with Locations((-16.5, -28.25)):
            Circle(F6_R)
        with Locations((-16.5, -28.25)):
            Circle(F6_R_2, mode=Mode.SUBTRACT)
        with Locations((16.5, -28.25)):
            Circle(F6_R)
        with Locations((16.5, -28.25)):
            Circle(F6_R_2, mode=Mode.SUBTRACT)
        with Locations((16.5, -68.25)):
            Circle(F6_R)
        with Locations((16.5, -68.25)):
            Circle(F6_R_2, mode=Mode.SUBTRACT)
        with Locations((-16.5, -68.25)):
            Circle(F6_R)
        with Locations((-16.5, -68.25)):
            Circle(F6_R_2, mode=Mode.SUBTRACT)
    extrude(amount=-F12_DEPTH, mode=Mode.SUBTRACT)


solid = f2.part
